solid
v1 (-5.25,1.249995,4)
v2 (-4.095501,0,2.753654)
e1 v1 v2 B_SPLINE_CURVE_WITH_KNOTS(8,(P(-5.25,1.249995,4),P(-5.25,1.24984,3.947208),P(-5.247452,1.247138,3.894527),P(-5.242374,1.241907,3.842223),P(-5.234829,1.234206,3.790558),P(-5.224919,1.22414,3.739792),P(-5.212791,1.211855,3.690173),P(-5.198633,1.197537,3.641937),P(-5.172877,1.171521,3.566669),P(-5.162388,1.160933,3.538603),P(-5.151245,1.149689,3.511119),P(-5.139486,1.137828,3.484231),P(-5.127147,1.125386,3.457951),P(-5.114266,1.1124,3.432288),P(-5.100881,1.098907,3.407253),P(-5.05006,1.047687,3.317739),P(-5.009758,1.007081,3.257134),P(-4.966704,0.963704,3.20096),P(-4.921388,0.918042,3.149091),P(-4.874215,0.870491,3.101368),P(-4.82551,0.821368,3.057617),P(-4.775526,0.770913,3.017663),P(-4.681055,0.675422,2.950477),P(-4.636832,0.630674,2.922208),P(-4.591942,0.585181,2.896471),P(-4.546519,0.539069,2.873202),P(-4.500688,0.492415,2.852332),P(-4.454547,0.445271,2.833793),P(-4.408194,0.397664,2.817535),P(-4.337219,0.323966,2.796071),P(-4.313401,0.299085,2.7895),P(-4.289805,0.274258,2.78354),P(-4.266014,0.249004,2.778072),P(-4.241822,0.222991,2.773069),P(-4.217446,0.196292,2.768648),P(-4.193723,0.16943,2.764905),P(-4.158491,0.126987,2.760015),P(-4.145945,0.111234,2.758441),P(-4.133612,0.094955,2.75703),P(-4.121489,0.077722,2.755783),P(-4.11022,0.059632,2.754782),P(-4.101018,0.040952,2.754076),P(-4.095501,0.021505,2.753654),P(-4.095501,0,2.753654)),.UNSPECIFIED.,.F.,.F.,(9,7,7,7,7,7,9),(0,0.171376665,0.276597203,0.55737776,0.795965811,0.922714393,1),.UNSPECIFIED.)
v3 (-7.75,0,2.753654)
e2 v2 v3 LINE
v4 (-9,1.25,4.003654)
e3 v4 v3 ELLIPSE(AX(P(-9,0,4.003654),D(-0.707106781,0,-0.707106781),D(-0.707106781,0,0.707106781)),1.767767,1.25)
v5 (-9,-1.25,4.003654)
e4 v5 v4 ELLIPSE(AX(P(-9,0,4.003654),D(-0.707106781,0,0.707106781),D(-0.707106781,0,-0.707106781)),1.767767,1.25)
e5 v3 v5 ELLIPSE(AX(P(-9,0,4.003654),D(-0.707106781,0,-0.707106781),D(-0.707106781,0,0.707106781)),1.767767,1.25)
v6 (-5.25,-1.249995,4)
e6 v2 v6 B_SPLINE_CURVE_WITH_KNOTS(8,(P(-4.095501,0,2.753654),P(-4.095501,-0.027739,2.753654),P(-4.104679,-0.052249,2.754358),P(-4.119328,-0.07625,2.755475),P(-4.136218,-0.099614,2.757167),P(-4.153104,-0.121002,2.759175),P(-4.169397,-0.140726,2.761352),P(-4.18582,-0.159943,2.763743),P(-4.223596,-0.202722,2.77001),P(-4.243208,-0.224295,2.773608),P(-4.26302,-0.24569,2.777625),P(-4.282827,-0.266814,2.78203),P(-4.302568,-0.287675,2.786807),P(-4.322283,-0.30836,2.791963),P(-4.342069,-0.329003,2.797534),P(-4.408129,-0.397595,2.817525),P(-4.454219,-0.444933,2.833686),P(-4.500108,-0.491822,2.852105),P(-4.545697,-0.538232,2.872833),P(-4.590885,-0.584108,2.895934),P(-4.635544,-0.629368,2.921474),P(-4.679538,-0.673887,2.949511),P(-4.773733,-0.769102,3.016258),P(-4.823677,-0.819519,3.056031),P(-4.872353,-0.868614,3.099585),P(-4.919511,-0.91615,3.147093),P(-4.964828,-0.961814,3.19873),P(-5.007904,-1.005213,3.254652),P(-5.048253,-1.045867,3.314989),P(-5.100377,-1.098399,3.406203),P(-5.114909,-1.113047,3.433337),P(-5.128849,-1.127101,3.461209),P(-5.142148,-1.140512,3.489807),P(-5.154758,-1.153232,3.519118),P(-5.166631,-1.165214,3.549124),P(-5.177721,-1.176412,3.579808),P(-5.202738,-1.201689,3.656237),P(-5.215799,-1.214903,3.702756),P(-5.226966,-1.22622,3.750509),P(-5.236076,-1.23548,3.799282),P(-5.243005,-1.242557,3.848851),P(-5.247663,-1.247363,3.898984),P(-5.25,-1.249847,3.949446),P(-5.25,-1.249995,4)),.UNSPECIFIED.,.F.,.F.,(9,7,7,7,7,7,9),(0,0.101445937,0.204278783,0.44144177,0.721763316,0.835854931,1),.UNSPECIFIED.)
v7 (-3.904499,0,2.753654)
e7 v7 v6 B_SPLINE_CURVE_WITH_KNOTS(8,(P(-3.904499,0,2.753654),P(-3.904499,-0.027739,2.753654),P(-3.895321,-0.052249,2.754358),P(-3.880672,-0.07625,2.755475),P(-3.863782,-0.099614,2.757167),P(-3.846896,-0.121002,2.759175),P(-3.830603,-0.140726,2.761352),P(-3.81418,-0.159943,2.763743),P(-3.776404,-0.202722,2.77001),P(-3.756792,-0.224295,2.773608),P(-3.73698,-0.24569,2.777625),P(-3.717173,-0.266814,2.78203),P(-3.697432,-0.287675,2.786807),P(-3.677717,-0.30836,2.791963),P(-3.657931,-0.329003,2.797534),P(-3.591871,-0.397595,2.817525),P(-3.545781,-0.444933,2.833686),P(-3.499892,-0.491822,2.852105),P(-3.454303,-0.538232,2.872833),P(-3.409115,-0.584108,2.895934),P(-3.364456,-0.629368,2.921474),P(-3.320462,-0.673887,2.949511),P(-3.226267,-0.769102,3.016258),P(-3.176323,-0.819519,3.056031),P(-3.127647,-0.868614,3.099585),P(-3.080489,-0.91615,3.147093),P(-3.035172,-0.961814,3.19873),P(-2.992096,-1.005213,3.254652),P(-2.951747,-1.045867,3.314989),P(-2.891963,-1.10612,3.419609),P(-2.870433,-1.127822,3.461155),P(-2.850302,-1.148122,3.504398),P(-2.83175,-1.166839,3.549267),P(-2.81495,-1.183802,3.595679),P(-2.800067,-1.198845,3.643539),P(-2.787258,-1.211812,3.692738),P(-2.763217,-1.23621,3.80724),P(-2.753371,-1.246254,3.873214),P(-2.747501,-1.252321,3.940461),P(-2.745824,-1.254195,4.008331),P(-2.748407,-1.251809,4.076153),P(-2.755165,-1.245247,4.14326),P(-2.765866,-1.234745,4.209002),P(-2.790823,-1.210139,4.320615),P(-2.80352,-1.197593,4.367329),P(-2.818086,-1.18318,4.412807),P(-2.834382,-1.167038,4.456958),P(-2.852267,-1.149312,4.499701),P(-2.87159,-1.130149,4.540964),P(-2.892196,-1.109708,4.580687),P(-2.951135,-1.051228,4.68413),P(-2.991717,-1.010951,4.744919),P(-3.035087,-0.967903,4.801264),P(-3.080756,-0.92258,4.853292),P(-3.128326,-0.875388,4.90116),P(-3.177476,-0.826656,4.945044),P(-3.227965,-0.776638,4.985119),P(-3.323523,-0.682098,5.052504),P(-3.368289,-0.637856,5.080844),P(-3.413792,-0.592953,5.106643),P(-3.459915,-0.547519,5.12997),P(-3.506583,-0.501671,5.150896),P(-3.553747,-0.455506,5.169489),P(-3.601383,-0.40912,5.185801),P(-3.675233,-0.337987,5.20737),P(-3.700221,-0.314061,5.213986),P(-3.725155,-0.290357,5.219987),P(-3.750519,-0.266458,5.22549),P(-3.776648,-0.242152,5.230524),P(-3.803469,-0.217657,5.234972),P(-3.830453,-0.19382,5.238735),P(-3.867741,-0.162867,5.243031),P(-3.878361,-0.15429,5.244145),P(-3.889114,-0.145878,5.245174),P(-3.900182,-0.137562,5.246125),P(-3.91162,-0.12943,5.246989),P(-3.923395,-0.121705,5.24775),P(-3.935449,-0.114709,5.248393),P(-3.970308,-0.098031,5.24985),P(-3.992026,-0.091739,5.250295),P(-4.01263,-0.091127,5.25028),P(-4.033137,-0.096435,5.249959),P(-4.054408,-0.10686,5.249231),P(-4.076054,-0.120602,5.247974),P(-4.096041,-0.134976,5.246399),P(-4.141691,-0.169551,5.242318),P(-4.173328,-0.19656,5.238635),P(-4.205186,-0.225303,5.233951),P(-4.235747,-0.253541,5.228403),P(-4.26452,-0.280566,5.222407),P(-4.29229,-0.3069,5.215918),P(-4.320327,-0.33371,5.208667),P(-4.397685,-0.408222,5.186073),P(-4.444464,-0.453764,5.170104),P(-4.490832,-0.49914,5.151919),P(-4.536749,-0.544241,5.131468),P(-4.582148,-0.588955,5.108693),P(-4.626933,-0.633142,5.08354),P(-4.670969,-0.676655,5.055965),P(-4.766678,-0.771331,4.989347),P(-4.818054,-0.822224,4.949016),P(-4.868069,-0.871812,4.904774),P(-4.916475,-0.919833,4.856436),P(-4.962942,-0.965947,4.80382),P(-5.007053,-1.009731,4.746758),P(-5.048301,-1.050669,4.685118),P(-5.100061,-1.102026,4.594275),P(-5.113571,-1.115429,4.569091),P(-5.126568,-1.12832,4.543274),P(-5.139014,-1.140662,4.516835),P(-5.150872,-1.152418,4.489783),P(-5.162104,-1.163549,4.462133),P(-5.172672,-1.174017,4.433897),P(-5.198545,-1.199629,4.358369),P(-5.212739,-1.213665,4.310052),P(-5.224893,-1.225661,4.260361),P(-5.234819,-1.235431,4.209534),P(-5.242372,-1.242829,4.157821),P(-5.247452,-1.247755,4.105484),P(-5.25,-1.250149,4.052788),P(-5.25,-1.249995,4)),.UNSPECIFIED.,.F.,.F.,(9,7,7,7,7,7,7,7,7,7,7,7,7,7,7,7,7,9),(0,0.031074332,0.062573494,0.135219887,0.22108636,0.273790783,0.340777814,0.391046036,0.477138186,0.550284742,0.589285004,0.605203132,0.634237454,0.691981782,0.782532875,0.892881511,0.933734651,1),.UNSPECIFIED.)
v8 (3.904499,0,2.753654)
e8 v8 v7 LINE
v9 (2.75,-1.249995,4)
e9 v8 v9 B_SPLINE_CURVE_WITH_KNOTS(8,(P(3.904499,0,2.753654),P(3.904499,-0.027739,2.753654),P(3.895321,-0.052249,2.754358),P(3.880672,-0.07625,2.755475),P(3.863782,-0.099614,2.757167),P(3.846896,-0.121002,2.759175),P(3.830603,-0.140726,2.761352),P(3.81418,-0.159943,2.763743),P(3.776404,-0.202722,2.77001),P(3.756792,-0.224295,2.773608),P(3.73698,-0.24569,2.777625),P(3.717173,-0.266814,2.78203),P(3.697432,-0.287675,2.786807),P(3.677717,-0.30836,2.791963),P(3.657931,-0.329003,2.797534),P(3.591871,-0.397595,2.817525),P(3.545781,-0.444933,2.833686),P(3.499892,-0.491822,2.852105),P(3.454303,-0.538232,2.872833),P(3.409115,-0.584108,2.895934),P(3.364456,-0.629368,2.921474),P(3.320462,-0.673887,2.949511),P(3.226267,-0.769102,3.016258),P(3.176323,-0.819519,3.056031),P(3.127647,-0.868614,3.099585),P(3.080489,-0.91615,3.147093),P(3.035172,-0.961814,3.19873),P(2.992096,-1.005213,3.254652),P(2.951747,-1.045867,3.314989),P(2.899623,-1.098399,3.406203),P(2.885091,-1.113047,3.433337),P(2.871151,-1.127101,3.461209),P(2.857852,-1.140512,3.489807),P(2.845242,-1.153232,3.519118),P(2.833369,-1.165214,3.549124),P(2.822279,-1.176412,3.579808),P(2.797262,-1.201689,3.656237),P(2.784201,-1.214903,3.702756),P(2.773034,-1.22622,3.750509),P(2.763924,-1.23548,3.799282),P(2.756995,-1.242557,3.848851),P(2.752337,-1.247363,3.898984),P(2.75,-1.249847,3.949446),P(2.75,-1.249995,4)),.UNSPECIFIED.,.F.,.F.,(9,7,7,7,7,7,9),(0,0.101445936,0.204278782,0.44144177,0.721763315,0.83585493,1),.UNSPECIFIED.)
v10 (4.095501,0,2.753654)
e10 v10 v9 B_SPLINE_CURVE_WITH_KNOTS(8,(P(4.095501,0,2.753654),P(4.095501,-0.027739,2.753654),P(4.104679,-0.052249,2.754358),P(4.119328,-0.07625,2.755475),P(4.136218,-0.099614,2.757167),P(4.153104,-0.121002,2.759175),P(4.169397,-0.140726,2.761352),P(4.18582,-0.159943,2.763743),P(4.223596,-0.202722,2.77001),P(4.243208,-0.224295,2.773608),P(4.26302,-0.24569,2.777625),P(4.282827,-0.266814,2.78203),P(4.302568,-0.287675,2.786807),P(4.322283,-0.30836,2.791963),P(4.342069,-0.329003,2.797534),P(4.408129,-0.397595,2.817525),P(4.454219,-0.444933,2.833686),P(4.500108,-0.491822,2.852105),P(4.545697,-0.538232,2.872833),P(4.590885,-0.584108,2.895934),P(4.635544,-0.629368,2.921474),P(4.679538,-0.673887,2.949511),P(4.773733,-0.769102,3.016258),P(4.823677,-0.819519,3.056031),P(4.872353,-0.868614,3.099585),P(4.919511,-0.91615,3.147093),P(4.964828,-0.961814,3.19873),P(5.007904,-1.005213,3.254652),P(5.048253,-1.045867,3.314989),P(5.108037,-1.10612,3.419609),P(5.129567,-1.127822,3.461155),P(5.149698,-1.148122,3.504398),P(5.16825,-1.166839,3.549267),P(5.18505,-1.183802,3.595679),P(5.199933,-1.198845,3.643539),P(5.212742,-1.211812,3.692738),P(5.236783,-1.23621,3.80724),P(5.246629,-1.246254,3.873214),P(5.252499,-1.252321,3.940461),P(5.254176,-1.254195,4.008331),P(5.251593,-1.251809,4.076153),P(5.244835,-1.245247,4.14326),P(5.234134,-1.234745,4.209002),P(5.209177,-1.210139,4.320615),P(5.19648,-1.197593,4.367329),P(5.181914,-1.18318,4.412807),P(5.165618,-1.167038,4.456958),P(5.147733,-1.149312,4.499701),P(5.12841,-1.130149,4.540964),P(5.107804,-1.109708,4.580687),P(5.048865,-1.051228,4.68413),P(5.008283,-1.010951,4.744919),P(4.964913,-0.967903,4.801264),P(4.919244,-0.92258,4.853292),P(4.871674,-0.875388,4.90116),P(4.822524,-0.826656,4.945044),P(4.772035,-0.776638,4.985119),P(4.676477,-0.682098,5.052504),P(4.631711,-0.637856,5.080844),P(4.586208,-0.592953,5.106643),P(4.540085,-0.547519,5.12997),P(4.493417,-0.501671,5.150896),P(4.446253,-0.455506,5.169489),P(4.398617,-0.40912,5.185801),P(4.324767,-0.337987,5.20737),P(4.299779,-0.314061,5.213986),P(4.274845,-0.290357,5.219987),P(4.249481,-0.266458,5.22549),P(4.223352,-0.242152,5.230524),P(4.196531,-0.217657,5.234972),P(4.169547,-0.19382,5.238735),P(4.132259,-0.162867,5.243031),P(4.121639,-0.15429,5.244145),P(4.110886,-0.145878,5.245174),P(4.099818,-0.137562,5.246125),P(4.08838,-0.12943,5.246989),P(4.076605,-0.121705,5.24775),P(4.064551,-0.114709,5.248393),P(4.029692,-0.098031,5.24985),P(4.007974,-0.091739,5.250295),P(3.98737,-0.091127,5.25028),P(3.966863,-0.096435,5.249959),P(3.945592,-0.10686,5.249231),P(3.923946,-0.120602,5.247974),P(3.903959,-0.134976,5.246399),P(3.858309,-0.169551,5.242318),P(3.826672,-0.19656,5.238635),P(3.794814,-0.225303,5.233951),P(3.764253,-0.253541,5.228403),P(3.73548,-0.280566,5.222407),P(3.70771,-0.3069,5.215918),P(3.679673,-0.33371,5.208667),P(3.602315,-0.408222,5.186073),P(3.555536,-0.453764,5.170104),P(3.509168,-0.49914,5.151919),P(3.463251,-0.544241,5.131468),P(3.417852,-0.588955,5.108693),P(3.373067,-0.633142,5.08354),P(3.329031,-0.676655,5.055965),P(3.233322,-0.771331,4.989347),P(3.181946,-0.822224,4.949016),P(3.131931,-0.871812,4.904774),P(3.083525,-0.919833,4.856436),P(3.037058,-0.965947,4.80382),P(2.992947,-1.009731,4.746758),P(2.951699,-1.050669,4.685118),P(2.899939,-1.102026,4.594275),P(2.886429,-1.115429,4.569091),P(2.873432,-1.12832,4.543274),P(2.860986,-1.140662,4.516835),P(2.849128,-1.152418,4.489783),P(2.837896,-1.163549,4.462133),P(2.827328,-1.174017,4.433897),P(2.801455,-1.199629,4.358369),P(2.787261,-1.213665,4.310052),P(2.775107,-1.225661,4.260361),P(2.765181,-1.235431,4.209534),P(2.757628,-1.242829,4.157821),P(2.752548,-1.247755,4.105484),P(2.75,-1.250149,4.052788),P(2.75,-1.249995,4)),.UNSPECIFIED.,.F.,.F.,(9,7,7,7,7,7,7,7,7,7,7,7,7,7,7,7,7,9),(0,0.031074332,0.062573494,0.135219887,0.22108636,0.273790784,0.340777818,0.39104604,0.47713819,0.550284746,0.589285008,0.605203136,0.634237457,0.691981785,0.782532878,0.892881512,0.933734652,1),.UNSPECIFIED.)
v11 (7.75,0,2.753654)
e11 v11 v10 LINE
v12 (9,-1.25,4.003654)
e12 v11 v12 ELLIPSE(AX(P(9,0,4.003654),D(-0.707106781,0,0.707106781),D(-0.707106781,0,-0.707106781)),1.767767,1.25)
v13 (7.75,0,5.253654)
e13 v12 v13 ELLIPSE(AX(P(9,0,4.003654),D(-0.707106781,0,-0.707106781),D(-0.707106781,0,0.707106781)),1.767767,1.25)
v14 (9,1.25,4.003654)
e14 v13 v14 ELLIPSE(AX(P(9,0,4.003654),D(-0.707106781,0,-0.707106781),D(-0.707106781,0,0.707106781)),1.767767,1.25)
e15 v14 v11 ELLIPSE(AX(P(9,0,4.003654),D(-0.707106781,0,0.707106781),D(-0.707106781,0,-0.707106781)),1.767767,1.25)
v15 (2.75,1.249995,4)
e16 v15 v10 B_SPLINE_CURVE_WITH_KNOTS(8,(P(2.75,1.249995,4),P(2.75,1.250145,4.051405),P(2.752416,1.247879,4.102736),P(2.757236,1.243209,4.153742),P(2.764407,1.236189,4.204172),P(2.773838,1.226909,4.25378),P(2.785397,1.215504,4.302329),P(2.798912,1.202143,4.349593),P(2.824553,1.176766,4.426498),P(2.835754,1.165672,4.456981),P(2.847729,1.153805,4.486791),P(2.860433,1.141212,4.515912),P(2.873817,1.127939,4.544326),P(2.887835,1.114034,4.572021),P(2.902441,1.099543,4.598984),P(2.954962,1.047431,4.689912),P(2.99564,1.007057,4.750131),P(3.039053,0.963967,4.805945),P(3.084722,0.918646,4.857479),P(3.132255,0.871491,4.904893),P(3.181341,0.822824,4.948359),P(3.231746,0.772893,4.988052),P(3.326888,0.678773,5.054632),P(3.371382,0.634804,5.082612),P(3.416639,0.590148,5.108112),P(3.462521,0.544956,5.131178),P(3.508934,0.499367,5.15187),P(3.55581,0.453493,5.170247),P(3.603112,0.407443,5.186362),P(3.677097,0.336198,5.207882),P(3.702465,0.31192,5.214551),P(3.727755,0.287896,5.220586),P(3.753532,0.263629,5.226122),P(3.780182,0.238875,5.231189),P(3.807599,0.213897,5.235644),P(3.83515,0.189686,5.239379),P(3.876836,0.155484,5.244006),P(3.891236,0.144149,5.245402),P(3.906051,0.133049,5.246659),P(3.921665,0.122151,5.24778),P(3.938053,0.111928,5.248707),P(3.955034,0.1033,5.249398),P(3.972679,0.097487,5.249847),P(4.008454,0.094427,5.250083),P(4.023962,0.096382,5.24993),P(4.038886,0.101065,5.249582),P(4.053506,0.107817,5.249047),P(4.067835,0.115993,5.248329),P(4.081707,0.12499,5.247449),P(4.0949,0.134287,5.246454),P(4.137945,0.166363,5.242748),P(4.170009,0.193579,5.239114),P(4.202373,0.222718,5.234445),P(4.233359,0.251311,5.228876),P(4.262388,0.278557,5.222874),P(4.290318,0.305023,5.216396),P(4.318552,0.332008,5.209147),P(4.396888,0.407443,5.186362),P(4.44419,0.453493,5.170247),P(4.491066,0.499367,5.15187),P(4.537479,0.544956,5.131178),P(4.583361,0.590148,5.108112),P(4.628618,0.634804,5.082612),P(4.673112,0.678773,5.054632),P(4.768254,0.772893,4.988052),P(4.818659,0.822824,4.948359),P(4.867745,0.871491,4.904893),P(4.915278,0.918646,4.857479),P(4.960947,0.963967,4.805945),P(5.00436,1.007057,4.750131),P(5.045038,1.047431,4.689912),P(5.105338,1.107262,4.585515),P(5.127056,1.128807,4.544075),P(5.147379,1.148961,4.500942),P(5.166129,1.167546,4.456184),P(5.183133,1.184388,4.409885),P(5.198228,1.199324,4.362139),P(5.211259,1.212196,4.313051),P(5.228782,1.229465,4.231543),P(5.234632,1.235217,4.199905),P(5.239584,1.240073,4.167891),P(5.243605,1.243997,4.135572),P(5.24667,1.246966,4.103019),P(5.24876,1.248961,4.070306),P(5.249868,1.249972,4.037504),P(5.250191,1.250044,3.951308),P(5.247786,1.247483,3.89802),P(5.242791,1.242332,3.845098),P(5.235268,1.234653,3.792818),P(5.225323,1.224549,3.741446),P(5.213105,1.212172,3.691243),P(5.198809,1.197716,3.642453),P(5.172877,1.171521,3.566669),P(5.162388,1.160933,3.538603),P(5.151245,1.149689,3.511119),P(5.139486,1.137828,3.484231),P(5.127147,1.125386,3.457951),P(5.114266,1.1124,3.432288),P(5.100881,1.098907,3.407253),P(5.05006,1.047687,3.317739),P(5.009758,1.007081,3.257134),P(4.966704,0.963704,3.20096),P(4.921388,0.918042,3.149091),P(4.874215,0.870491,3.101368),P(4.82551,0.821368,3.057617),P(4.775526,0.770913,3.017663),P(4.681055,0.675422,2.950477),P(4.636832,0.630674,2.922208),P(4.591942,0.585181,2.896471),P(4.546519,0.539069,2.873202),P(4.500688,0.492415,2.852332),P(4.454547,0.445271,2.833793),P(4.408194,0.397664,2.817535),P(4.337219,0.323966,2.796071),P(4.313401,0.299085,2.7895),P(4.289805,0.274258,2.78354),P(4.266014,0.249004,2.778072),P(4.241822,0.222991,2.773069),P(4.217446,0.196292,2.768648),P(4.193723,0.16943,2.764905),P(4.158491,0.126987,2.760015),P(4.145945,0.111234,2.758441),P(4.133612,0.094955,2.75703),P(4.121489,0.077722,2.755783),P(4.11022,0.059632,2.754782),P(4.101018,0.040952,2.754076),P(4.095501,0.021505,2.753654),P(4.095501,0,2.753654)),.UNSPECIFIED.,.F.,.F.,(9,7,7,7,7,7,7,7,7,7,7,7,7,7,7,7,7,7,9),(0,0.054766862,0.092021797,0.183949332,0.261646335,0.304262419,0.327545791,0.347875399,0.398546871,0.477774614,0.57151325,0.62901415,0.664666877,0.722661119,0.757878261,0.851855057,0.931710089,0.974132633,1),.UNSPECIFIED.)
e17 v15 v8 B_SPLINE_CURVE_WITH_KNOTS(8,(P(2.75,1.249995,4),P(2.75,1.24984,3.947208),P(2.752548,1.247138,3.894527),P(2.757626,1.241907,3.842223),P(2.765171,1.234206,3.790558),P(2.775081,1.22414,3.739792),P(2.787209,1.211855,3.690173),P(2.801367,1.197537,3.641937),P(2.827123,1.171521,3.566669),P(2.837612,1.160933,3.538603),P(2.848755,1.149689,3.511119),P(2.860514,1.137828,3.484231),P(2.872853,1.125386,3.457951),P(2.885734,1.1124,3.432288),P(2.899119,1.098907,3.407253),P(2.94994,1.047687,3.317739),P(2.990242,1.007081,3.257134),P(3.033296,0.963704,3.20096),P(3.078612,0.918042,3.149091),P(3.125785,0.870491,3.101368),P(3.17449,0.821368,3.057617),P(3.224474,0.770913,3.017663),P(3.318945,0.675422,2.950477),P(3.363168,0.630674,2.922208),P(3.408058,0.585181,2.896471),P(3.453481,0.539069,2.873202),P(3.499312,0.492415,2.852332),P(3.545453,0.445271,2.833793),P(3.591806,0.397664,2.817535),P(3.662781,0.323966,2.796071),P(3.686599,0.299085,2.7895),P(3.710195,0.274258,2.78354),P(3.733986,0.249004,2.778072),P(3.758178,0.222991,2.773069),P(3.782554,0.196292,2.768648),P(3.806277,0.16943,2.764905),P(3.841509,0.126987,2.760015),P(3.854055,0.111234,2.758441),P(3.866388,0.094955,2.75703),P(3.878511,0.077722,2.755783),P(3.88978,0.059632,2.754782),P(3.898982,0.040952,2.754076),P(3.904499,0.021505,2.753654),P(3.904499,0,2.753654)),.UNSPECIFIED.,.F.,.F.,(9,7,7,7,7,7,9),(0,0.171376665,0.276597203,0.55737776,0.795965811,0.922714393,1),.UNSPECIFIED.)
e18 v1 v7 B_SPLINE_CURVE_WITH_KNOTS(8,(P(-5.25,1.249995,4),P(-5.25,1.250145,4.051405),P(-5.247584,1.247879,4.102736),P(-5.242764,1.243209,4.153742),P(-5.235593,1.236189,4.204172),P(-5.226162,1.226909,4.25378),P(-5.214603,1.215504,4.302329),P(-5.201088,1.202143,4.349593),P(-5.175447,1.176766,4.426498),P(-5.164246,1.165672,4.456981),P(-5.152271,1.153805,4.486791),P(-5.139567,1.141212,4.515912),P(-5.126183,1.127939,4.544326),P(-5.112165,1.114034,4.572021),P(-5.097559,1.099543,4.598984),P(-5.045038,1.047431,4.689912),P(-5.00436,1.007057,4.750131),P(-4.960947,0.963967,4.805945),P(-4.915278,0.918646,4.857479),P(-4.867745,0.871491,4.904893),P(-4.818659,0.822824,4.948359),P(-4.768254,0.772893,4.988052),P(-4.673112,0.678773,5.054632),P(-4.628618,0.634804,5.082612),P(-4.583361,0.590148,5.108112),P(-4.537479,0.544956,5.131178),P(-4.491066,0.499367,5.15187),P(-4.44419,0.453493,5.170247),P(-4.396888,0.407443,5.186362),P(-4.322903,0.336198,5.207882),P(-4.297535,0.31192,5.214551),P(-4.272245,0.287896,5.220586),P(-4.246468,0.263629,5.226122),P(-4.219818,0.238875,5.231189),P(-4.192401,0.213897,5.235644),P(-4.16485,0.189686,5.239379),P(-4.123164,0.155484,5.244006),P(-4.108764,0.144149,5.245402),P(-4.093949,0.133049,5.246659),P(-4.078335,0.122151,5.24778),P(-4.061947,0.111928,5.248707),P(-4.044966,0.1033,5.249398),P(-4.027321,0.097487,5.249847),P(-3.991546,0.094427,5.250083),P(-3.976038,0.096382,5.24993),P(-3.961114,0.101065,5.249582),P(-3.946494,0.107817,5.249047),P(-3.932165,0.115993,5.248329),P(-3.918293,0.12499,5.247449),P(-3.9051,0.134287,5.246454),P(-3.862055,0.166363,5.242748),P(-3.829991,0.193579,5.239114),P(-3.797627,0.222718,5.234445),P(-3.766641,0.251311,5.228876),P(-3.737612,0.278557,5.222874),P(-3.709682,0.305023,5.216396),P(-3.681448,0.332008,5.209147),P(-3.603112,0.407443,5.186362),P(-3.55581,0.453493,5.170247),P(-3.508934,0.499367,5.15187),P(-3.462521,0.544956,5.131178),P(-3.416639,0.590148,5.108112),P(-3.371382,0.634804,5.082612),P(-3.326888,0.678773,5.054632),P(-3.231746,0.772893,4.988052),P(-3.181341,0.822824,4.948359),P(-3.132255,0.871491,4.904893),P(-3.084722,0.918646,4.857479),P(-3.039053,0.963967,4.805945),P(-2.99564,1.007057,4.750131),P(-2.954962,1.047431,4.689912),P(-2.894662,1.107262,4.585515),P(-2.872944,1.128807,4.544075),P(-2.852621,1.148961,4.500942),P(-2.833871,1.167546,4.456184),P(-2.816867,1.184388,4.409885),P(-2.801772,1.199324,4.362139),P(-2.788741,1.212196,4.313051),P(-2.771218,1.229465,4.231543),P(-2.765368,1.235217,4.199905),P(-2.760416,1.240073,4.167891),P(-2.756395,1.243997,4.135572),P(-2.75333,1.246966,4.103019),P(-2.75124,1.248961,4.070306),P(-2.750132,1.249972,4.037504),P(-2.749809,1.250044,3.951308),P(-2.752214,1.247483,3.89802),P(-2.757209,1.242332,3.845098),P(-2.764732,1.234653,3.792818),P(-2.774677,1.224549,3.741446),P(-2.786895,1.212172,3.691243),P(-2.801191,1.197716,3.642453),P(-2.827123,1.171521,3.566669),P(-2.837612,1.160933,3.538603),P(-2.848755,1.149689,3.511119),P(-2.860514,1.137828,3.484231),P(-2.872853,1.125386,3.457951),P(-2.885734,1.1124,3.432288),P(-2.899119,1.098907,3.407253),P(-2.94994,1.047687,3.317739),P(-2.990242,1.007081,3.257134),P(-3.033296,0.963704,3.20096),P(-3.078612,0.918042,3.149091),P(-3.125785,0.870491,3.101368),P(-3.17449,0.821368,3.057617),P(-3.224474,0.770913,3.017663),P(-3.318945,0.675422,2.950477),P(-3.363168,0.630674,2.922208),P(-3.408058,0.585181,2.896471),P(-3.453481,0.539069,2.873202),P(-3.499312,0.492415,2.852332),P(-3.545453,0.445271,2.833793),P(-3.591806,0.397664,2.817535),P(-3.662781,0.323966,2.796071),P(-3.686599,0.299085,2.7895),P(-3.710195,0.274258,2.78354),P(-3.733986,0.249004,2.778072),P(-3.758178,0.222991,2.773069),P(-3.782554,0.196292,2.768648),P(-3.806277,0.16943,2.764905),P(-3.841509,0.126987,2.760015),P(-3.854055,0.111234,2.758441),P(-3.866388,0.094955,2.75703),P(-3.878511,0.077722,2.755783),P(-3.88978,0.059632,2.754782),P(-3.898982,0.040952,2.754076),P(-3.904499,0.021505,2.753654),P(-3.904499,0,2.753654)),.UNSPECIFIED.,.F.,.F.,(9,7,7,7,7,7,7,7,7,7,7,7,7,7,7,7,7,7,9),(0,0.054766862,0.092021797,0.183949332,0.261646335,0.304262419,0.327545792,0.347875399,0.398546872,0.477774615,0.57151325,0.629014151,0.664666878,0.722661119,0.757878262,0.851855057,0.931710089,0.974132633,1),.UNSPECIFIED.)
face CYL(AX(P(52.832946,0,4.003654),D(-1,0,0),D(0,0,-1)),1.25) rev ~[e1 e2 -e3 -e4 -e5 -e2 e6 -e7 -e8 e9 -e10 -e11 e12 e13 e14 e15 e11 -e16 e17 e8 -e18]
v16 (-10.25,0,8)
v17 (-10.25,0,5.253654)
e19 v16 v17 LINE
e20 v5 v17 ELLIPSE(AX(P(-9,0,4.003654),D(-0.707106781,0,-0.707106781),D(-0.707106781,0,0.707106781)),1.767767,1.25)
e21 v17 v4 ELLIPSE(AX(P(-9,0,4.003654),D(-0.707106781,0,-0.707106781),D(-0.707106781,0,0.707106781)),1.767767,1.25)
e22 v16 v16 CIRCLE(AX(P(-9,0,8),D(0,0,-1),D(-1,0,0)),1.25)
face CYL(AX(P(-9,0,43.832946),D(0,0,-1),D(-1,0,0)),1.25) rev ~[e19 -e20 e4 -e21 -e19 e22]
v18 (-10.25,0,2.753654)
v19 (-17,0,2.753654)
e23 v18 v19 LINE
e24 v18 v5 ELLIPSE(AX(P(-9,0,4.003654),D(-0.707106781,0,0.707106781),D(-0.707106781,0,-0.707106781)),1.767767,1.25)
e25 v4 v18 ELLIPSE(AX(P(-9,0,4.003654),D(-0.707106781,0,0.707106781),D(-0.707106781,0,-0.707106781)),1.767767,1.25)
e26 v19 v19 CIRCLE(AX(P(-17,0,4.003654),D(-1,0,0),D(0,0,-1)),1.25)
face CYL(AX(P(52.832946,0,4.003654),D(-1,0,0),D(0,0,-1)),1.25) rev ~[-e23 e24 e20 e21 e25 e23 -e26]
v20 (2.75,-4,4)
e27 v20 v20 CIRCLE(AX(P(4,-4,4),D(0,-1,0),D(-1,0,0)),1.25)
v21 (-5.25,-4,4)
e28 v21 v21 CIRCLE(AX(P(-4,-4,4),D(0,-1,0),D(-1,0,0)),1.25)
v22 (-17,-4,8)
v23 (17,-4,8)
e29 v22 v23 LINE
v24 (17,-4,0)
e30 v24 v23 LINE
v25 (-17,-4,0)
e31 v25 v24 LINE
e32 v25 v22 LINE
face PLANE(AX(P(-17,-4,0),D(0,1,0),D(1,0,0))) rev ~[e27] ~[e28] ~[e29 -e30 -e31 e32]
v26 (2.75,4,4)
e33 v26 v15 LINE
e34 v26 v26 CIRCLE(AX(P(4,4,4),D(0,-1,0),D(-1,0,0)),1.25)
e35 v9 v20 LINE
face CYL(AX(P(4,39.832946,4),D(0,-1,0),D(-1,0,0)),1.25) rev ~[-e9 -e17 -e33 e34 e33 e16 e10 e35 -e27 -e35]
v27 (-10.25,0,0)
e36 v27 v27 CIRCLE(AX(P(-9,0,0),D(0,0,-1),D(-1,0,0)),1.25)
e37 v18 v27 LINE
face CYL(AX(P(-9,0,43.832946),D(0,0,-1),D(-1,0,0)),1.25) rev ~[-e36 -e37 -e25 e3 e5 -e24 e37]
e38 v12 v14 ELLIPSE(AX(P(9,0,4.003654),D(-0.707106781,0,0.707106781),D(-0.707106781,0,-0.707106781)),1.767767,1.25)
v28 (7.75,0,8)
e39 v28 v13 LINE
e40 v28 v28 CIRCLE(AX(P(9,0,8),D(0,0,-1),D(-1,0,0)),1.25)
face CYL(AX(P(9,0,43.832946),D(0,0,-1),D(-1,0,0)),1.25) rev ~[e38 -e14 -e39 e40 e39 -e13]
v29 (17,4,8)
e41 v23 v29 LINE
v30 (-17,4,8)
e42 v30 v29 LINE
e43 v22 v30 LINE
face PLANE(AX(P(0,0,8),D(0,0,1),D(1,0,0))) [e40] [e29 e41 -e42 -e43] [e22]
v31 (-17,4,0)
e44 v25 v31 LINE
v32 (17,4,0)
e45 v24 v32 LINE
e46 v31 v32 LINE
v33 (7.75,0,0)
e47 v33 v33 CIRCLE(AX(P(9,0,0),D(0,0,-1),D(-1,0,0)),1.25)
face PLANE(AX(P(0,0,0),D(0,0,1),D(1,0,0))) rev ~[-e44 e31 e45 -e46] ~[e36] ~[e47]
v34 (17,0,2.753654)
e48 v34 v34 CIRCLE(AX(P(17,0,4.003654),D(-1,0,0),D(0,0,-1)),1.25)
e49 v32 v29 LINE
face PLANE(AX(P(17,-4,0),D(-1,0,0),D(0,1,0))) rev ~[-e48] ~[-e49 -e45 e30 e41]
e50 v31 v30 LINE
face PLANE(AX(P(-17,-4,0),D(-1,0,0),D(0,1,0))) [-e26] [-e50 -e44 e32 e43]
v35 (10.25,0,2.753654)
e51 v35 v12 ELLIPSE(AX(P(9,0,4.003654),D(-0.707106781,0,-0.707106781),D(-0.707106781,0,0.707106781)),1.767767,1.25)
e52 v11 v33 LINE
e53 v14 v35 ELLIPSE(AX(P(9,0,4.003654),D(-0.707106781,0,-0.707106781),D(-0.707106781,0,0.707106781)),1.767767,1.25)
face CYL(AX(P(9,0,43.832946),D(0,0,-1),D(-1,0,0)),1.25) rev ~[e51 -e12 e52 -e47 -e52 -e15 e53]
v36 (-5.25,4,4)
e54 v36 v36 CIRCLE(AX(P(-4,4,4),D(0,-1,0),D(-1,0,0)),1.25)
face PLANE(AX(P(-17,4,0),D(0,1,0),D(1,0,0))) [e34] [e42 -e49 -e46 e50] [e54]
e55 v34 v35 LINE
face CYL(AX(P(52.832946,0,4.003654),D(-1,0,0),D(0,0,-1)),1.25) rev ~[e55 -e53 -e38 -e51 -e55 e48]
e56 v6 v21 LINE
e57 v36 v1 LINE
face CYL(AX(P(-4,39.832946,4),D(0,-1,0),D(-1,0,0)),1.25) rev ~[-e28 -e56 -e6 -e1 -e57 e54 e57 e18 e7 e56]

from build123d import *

# Parameters (mm, degrees)
SKETCH_1_W         = 34
SKETCH_1_H         = 8
EXTRUDE_1_DEPTH    = 8
HOLE_WIZARD_M3_2_D = 2.5
HOLE_WIZARD_M3_3_D = 2.5
HOLE_WIZARD_M3_4_D = 2.5
HOLE_WIZARD_M3_5_D = 2.5
HOLE_WIZARD_M3_6_D = 2.5


with BuildPart() as part:
    # 草图1 → 凸台-拉伸1 (new body)
    with BuildSketch(Plane.XY):
        Rectangle(SKETCH_1_W, SKETCH_1_H)
    extrude(amount=EXTRUDE_1_DEPTH)

    # M3 螺纹孔的螺纹孔钻头2 (through all)
    with Locations(Plane(origin=(17, 0, 4.003653537), x_dir=(0, 0, 1), z_dir=(1, 0, 0))):
        with Locations((0, 0)):
            Hole(HOLE_WIZARD_M3_2_D / 2)

    # M3 螺纹孔的螺纹孔钻头3 (through all)
    with Locations(Plane(origin=(-9, 0, 8), x_dir=(1, 0, 0), z_dir=(0, 0, 1))):
        with Locations((0, 0)):
            Hole(HOLE_WIZARD_M3_3_D / 2)

    # M3 螺纹孔的螺纹孔钻头4 (through all)
    with Locations(Plane(origin=(9, 0, 8), x_dir=(1, 0, 0), z_dir=(0, 0, 1))):
        with Locations((0, 0)):
            Hole(HOLE_WIZARD_M3_4_D / 2)

    # M3 螺纹孔的螺纹孔钻头5 (through all)
    with Locations(Plane(origin=(-4, 4, 4), x_dir=(1, 0, 0), z_dir=(0, 1, 0))):
        with Locations((0, 0)):
            Hole(HOLE_WIZARD_M3_5_D / 2)

    # M3 螺纹孔的螺纹孔钻头6 (through all)
    with Locations(Plane(origin=(4, 4, 4), x_dir=(1, 0, 0), z_dir=(0, 1, 0))):
        with Locations((0, 0)):
            Hole(HOLE_WIZARD_M3_6_D / 2)


solid = part.part
